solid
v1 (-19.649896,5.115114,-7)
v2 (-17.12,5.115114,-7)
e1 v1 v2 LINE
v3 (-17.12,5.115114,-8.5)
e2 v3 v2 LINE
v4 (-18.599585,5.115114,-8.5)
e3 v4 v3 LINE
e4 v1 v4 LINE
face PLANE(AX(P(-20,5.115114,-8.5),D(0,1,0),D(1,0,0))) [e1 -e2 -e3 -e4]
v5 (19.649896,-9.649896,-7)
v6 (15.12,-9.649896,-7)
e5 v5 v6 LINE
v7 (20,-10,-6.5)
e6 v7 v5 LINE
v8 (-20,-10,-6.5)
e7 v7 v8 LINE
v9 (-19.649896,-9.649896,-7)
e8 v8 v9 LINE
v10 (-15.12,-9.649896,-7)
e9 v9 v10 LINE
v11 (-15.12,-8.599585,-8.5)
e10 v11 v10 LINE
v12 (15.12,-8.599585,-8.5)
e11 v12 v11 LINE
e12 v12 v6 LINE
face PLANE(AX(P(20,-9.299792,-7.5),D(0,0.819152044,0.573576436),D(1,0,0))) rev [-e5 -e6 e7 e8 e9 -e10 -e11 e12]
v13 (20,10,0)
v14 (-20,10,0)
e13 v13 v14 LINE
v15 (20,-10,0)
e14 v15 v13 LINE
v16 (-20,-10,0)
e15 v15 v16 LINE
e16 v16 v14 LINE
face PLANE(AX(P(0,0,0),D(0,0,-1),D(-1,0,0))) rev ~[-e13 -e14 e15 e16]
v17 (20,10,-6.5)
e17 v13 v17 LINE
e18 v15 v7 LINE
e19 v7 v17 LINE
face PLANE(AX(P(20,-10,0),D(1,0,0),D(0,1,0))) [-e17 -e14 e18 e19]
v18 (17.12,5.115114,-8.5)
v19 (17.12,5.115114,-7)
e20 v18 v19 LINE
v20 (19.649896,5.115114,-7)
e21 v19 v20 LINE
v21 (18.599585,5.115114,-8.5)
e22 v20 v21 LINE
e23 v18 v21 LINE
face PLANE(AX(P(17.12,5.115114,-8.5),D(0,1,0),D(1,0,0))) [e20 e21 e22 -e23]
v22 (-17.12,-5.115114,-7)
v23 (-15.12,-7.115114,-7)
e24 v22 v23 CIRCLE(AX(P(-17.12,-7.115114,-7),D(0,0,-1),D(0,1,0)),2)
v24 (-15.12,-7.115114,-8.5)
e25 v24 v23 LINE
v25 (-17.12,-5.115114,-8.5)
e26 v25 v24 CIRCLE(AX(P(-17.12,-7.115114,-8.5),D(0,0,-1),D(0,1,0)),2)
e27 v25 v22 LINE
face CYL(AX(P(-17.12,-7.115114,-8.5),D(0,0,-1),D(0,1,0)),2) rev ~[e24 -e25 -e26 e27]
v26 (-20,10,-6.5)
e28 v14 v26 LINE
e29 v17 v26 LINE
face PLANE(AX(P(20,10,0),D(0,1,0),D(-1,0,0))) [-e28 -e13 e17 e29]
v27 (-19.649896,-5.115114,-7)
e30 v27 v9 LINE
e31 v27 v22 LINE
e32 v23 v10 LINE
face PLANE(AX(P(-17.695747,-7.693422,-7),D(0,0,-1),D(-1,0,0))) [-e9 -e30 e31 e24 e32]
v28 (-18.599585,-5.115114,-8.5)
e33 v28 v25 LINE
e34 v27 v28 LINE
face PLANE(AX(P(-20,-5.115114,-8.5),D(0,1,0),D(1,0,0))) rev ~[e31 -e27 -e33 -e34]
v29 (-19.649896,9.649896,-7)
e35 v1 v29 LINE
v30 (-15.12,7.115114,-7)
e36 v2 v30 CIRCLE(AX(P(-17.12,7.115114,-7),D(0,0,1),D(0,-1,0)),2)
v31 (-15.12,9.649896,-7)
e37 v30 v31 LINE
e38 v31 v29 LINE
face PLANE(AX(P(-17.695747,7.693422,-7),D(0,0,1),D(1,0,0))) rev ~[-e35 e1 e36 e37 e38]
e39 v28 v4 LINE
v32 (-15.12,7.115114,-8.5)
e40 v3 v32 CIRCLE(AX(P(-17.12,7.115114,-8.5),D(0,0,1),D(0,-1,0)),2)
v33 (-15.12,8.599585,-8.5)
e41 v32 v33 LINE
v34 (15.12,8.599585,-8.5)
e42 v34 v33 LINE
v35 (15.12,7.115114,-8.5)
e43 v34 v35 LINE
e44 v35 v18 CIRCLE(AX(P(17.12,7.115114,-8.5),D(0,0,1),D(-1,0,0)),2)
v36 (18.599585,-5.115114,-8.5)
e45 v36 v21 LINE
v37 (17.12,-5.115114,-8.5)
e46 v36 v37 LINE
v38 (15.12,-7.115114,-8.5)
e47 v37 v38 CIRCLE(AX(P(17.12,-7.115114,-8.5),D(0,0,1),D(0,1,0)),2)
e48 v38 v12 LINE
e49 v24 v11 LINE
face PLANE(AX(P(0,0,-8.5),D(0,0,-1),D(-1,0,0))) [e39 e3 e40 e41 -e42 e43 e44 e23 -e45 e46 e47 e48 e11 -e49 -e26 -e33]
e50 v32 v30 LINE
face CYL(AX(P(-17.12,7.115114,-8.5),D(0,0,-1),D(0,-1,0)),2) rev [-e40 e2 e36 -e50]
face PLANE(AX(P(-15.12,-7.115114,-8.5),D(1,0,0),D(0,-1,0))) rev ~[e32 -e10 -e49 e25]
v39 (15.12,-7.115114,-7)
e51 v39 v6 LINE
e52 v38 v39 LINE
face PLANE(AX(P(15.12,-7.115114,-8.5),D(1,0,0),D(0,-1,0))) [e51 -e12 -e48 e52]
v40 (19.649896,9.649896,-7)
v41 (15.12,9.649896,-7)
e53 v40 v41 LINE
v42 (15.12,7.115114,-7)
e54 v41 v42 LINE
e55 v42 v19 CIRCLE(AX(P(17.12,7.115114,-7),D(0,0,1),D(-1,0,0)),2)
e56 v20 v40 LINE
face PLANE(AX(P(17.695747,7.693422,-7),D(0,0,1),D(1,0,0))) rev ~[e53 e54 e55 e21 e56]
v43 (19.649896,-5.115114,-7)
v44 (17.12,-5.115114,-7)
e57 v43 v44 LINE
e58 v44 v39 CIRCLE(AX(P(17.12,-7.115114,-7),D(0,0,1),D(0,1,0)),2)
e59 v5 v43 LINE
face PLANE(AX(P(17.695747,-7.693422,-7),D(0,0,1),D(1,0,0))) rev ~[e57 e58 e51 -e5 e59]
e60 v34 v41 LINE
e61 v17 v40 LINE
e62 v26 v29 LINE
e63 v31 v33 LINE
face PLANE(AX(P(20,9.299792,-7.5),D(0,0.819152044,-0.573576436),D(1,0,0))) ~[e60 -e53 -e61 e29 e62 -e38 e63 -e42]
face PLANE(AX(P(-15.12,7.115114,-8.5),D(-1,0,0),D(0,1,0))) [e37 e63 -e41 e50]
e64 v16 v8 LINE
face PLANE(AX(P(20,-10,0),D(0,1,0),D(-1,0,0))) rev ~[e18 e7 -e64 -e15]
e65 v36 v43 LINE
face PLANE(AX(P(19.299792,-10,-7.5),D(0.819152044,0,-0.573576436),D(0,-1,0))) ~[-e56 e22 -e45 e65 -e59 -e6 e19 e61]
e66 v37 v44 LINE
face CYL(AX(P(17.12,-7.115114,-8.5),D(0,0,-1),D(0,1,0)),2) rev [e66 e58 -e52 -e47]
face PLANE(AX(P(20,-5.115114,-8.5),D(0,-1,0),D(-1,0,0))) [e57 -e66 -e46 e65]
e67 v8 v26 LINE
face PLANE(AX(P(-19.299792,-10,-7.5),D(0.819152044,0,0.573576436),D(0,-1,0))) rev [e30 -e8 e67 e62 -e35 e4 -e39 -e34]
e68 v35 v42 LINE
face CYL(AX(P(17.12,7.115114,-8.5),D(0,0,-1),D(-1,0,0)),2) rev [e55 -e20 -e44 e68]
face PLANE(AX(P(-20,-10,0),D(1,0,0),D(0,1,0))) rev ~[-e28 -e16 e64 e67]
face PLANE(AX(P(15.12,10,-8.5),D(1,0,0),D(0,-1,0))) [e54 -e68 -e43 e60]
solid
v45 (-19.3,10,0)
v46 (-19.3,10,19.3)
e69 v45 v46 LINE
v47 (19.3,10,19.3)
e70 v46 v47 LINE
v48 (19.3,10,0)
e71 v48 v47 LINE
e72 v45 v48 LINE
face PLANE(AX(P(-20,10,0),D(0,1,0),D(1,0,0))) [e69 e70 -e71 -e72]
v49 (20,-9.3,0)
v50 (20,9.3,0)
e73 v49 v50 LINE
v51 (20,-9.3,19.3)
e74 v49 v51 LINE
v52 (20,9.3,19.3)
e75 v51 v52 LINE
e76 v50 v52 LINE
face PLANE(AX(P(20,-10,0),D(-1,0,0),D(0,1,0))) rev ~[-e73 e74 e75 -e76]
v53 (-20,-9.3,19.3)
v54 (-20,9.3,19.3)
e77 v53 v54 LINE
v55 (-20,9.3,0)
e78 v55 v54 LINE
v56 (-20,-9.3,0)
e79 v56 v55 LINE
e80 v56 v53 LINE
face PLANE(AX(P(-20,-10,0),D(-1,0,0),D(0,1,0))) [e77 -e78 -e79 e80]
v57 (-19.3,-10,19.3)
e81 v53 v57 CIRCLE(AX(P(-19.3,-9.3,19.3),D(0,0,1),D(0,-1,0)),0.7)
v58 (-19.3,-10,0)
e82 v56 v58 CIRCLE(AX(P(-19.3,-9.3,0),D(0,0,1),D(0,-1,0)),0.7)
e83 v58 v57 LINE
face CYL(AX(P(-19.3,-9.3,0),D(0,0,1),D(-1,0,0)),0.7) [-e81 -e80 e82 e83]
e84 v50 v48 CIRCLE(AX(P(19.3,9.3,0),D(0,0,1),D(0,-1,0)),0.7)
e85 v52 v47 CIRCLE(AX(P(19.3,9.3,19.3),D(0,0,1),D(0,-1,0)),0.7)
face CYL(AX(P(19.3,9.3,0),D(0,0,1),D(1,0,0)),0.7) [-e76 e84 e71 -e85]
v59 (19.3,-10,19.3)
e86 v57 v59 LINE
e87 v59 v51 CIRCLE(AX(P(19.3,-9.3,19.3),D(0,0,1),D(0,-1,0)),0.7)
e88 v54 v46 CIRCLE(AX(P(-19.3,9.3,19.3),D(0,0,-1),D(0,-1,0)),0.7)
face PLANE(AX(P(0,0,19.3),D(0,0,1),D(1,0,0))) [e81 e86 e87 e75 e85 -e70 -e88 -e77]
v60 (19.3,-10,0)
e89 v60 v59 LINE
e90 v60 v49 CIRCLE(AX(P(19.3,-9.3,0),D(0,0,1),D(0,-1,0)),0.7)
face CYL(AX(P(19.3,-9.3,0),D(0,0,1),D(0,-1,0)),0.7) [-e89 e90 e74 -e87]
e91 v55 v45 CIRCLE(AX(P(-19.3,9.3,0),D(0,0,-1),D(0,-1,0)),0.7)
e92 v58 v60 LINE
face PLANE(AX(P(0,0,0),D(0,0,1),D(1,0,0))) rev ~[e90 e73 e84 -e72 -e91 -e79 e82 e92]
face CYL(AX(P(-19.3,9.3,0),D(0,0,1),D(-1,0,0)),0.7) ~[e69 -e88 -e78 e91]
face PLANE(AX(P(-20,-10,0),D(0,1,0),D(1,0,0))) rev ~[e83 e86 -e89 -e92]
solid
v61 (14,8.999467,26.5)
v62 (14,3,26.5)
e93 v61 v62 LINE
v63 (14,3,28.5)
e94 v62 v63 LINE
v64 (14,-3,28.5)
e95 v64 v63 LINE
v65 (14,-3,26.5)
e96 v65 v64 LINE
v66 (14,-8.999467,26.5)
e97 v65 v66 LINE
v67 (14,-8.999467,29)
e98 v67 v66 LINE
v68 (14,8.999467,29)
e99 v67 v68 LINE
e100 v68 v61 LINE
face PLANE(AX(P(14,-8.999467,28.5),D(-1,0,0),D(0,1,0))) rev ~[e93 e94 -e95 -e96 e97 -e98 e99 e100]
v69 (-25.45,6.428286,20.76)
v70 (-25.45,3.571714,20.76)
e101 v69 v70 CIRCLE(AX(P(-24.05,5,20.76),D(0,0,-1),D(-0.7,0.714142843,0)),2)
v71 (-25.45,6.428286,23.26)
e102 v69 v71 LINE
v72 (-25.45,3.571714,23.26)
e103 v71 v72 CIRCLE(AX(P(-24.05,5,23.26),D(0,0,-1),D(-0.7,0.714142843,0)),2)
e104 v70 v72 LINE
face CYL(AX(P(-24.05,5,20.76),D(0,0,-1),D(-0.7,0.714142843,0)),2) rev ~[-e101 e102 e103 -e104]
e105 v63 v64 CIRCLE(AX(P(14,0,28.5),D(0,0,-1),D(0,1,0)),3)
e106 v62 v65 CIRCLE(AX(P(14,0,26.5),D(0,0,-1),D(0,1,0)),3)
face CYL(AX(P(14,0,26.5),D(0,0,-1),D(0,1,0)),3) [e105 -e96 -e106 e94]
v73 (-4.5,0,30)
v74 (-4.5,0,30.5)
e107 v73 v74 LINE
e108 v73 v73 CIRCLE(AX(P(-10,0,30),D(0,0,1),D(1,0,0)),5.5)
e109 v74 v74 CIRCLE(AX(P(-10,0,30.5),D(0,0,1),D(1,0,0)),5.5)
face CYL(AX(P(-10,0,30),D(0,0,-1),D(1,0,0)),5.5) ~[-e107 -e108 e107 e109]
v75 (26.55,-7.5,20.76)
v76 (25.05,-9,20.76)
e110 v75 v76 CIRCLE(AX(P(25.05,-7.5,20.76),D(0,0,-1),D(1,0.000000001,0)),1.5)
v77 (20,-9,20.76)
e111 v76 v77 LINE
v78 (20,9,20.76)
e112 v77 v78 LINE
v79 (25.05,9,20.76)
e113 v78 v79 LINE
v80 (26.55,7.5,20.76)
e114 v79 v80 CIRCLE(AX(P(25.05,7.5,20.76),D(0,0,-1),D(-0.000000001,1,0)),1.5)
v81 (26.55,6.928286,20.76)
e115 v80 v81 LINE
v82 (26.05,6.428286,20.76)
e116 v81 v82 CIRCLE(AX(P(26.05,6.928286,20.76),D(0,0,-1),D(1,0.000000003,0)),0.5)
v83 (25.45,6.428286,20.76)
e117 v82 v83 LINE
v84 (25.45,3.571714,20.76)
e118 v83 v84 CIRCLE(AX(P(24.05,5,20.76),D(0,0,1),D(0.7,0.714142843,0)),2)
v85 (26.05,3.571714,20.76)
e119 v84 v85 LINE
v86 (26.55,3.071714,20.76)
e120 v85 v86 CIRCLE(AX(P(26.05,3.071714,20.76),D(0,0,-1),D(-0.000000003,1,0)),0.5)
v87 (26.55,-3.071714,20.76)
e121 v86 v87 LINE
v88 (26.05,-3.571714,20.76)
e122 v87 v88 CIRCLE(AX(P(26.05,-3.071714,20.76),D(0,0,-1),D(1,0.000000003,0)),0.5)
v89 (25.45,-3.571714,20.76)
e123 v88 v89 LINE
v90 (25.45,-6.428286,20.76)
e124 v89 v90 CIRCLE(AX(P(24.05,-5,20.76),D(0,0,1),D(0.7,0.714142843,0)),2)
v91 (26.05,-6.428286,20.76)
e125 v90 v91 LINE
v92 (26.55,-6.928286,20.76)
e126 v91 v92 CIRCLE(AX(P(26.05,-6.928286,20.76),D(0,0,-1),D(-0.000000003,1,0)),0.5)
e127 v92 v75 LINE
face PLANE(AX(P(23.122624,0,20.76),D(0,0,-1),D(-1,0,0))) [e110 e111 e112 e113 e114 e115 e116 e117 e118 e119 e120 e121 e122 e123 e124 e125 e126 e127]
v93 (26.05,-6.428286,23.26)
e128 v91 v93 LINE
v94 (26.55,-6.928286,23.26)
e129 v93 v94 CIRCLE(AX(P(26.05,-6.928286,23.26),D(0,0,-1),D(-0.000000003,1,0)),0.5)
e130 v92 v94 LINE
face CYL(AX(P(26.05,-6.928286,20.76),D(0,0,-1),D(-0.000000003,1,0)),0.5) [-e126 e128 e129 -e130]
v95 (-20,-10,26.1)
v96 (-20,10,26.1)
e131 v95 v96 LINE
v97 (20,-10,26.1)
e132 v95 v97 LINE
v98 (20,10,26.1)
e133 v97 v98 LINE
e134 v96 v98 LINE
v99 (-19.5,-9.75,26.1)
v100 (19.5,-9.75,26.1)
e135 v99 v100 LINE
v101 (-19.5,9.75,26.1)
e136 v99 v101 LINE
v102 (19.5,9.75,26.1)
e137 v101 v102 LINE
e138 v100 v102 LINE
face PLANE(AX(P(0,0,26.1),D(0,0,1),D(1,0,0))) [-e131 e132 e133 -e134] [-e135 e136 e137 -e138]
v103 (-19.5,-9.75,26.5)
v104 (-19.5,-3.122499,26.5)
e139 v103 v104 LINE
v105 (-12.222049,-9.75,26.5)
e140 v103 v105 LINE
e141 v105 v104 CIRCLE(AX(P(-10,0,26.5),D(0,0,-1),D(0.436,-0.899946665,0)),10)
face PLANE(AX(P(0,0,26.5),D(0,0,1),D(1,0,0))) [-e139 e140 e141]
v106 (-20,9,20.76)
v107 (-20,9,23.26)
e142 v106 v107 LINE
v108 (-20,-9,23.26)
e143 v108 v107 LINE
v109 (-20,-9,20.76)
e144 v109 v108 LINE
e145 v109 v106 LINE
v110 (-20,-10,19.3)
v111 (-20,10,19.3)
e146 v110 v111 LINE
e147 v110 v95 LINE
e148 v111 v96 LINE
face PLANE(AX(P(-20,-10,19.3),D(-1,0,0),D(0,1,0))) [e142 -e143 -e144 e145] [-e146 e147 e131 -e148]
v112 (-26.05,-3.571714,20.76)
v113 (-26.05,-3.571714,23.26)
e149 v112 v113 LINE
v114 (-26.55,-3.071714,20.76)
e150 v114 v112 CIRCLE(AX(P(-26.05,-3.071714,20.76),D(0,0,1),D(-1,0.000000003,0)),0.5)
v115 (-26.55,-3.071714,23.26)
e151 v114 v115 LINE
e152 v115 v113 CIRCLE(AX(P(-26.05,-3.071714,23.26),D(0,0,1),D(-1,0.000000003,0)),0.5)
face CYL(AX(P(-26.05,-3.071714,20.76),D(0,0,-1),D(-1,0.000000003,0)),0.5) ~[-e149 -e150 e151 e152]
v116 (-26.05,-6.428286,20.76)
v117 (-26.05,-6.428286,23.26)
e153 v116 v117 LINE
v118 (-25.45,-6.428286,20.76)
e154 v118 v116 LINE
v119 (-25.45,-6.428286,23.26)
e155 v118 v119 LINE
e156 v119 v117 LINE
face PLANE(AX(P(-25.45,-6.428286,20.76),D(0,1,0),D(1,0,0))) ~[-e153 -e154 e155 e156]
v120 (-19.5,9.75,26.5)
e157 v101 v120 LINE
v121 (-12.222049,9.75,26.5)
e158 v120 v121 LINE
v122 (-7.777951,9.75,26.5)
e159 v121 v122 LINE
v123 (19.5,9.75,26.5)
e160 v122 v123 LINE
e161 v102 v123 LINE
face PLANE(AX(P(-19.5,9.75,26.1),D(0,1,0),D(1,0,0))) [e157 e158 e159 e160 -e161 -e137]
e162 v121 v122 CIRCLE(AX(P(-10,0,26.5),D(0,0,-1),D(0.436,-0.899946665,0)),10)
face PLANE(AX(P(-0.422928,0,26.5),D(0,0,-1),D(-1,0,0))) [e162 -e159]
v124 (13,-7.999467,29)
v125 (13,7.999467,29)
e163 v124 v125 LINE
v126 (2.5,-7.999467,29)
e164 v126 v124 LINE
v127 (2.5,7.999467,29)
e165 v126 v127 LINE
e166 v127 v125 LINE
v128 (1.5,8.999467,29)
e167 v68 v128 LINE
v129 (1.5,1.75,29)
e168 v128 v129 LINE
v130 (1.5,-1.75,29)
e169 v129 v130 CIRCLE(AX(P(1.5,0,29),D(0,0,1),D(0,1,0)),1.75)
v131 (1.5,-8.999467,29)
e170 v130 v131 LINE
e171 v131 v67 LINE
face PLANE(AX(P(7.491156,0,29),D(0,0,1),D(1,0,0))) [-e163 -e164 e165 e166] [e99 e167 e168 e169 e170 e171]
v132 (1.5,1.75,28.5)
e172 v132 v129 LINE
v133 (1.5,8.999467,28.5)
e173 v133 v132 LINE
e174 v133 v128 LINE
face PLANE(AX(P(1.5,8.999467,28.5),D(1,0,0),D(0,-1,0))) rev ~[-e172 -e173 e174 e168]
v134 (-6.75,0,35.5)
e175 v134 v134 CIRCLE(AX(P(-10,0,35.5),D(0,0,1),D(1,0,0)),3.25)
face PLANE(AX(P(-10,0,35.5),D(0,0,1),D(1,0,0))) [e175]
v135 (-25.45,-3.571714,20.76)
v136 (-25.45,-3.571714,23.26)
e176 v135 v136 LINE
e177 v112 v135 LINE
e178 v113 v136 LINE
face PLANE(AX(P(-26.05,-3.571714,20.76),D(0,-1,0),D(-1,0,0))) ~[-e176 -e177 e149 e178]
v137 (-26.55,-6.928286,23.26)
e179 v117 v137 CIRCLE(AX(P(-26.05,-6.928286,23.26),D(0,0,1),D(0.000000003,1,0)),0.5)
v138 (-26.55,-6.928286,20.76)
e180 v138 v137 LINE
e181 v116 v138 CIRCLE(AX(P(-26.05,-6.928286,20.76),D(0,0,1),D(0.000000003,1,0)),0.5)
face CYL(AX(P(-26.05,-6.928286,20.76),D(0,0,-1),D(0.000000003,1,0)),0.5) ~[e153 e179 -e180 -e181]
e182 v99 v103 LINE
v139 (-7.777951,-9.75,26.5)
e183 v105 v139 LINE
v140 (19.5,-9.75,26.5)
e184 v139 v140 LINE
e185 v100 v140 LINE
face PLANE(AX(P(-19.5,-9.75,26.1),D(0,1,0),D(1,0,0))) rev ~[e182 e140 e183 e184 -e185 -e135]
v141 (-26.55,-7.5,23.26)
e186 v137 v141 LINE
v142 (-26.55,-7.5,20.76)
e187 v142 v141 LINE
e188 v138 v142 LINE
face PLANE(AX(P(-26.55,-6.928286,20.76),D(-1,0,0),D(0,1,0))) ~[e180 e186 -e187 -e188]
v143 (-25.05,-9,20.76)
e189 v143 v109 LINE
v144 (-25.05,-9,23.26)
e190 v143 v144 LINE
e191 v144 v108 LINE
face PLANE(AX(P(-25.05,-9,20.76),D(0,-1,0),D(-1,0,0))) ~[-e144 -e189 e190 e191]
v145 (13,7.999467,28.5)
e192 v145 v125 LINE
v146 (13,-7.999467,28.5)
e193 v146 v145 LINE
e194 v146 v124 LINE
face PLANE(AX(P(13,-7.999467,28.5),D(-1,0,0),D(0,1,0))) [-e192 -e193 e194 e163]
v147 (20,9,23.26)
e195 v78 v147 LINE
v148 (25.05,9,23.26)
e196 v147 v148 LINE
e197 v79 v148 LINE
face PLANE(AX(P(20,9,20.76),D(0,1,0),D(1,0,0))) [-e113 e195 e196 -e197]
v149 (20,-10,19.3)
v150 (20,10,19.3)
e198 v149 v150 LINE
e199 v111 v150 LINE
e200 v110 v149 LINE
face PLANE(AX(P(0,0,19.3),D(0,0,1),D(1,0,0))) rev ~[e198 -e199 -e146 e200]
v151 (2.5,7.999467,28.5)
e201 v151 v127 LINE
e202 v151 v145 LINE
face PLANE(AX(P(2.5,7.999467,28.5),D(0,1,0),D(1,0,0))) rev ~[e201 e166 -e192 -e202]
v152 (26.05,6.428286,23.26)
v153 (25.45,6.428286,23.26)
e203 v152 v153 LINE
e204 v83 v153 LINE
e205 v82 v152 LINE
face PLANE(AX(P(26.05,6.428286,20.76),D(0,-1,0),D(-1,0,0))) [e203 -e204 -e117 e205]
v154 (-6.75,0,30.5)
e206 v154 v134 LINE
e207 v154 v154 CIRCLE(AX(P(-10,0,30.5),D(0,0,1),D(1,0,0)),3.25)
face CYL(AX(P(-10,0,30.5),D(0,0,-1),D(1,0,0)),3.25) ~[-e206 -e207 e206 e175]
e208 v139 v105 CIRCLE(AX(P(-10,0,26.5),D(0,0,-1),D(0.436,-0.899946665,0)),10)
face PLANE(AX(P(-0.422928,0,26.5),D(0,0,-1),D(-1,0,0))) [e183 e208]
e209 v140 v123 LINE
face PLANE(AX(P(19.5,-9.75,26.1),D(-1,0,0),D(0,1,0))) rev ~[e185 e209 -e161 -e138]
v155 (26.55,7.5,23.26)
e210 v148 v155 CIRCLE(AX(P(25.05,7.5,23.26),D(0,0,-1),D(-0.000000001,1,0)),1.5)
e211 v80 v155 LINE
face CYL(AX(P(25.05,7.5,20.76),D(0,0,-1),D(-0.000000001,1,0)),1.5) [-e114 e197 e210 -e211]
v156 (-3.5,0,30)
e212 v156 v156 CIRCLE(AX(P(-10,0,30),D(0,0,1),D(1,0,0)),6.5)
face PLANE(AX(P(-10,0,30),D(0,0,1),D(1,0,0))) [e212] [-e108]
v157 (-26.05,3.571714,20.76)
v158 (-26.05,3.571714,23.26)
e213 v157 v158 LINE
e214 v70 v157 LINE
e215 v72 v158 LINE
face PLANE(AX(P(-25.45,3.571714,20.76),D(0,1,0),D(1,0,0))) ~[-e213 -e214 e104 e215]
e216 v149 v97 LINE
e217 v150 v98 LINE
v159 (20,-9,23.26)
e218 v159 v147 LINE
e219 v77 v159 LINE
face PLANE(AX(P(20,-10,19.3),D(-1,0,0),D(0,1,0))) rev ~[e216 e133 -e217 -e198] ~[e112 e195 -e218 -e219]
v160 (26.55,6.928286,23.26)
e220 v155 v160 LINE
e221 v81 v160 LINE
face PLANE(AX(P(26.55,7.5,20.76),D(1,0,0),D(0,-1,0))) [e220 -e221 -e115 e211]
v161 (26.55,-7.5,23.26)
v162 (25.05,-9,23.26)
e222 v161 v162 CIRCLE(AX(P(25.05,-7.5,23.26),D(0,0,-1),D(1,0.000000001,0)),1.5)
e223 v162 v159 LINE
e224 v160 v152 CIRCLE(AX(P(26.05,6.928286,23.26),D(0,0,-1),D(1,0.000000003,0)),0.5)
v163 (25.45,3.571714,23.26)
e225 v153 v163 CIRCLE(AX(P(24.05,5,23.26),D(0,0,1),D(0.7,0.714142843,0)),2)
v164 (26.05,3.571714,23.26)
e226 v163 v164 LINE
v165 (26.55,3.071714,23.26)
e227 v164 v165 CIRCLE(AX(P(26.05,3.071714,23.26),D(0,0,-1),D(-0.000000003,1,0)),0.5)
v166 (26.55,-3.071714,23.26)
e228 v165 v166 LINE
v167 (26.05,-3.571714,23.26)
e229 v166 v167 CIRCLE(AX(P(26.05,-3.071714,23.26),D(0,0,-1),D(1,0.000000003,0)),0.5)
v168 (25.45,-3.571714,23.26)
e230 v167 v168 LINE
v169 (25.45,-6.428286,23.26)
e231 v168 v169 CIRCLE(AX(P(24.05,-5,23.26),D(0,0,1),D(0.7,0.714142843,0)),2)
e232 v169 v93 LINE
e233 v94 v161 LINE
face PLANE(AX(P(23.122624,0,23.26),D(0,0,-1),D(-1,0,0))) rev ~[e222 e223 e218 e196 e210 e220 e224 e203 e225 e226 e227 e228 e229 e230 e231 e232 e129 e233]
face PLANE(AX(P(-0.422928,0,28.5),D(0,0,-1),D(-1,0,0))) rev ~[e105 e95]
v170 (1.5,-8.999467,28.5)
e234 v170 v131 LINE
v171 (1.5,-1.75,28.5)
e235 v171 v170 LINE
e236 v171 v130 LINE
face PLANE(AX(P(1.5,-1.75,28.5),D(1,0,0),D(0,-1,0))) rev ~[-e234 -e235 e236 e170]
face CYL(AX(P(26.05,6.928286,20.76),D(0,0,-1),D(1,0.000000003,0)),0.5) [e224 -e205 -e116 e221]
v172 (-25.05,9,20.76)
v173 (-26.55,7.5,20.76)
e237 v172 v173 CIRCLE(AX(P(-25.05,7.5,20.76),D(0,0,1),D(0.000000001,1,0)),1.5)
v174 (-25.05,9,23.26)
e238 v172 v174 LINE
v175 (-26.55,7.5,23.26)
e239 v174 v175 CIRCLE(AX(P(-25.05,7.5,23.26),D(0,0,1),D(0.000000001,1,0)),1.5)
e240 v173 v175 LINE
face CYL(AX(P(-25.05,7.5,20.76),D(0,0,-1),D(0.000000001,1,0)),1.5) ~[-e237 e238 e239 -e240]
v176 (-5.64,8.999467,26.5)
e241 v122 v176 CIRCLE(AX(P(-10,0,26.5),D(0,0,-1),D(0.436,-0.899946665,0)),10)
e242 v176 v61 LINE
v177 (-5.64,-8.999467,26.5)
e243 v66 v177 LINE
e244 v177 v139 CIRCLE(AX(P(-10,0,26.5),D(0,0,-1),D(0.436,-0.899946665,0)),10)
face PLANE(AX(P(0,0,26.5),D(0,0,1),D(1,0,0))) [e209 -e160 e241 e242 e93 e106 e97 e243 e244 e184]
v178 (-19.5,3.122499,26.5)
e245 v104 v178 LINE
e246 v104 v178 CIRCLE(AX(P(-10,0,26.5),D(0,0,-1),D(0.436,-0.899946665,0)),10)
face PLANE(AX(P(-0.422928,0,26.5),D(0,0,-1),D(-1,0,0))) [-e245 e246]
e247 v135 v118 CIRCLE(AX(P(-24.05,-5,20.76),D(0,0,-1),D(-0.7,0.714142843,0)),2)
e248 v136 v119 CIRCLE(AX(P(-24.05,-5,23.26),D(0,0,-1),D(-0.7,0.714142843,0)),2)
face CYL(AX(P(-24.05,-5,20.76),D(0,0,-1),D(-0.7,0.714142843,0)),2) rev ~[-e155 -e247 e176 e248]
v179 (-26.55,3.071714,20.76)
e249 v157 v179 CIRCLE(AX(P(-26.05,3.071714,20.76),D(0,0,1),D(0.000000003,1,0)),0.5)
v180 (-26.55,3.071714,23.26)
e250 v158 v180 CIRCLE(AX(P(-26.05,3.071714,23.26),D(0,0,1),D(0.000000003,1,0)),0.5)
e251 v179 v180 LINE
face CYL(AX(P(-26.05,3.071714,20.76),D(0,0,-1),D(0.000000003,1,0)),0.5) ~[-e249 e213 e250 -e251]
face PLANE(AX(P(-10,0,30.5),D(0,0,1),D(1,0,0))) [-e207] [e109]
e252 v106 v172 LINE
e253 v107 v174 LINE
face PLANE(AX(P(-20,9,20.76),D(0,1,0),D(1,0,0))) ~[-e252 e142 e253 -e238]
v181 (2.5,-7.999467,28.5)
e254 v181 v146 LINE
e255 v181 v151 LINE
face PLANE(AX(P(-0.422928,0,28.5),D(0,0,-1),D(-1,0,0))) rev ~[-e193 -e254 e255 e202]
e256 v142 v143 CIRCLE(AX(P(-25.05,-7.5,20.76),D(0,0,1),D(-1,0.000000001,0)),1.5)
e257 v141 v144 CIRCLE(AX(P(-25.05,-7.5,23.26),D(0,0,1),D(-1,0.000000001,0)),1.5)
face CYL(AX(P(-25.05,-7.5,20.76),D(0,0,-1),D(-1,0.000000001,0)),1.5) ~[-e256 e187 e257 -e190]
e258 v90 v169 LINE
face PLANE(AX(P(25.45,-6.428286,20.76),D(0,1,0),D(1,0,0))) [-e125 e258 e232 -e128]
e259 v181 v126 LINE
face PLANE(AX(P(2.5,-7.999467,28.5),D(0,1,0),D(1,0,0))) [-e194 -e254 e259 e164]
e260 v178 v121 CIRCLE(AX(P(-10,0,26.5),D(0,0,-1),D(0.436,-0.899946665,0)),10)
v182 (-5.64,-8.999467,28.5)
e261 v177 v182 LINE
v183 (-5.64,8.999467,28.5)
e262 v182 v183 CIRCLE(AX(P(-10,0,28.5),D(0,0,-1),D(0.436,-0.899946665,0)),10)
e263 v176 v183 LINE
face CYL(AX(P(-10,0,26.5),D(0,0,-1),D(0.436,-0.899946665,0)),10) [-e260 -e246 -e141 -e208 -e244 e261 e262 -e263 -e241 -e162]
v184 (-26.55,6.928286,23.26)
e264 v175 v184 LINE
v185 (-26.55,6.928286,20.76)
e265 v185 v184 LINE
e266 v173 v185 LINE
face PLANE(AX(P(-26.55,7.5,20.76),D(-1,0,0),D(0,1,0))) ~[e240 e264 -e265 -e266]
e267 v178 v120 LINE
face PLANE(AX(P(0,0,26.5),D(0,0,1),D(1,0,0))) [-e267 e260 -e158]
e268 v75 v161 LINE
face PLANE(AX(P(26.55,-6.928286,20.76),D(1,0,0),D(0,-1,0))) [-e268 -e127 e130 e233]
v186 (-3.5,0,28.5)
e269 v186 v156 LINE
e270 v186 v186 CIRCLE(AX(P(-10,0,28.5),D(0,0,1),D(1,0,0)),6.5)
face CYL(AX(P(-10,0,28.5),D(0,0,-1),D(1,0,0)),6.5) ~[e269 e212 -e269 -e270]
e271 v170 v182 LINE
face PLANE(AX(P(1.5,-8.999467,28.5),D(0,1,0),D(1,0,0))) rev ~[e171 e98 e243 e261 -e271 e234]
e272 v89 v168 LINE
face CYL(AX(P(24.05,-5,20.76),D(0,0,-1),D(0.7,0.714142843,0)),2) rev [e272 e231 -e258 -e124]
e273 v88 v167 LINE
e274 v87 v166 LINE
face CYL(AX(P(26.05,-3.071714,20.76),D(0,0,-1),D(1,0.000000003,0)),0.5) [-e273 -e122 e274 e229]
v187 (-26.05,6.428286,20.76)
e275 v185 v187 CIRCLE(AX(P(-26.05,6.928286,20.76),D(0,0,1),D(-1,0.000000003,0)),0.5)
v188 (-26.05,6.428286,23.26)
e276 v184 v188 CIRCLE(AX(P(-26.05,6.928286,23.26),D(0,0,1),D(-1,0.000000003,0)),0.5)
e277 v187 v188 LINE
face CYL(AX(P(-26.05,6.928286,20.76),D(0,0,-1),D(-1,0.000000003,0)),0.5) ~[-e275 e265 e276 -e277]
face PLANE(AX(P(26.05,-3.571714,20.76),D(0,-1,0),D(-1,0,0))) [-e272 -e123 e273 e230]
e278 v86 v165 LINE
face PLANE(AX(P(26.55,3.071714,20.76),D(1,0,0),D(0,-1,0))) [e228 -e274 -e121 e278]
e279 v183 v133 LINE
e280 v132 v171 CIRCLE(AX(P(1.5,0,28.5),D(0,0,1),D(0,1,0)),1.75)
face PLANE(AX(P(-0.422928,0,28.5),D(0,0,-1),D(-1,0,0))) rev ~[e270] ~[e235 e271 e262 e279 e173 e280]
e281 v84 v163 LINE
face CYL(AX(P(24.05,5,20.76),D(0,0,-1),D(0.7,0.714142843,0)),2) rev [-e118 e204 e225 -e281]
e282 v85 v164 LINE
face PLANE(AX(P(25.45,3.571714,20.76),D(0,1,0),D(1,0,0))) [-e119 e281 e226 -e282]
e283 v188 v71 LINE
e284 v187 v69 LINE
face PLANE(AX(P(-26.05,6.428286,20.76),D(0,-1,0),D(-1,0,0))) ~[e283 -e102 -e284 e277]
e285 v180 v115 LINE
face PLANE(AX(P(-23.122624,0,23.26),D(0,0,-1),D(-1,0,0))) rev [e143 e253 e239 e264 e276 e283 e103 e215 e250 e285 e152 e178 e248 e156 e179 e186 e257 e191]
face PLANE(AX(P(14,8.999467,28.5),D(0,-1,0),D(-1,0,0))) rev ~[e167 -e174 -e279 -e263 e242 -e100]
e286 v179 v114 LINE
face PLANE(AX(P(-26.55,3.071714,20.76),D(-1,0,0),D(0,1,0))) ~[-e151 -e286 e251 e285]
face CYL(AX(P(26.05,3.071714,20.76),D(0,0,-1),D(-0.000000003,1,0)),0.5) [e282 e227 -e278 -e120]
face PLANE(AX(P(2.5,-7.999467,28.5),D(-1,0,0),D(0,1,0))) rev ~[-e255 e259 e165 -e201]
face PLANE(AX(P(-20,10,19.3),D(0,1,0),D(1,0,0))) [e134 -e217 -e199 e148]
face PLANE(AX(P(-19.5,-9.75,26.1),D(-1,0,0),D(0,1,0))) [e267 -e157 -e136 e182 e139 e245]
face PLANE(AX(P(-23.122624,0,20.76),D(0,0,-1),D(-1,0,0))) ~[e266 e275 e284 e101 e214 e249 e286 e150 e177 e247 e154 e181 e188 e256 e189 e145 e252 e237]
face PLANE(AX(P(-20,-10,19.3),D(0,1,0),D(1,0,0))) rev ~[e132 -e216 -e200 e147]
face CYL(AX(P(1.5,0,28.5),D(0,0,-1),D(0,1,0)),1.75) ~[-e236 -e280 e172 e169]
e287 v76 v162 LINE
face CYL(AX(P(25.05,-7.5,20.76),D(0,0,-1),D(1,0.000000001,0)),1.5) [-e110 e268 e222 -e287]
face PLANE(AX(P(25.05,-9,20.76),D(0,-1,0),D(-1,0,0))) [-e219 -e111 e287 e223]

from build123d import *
from OCP.BRepFilletAPI import BRepFilletAPI_MakeChamfer

# Parameters (mm, degrees)
SKETCH1_W            = 40
SKETCH1_H            = 20
BOSS_EXTRUDE1_DEPTH  = 19.3
SKETCH2_W            = 40
SKETCH2_H            = 20
BOSS_EXTRUDE2_DEPTH  = 6.8
SKETCH3_W            = 40
SKETCH3_H            = 20
BOSS_EXTRUDE3_DEPTH  = 8.5
CHAMFER1_SIZE        = 2
CHAMFER1_SIZE2       = 1.400415076
CUT_EXTRUDE1_DEPTH   = 1.5
SKETCH5_W            = 39
SKETCH5_H            = 19.5
BOSS_EXTRUDE5_DEPTH  = 0.4
BOSS_EXTRUDE6_DEPTH  = 2
SKETCH7_R            = 6.5
BOSS_EXTRUDE7_DEPTH  = 1.5
SKETCH8_R            = 5.5
BOSS_EXTRUDE8_DEPTH  = 0.5
SKETCH9_R            = 3.25
BOSS_EXTRUDE9_DEPTH  = 5
SKETCH10_W           = 10.5
SKETCH10_H           = 15.998933302
BOSS_EXTRUDE10_DEPTH = 0.5
FILLET1_R            = 0.7
BOSS_EXTRUDE11_START = -5.74
BOSS_EXTRUDE11_DEPTH = 2.5


with BuildPart() as part:
    # Sketch1 → Boss-Extrude1 (new body)
    with BuildSketch(Plane.XY):
        Rectangle(SKETCH1_W, SKETCH1_H)
    extrude(amount=BOSS_EXTRUDE1_DEPTH)

    # Fillet1
    fillet1_edges = [part.edges().sort_by_distance(p)[0] for p in [
        (20, -10, 9.65),
        (-20, -10, 9.65),
        (-20, 10, 9.65),
        (20, 10, 9.65),
    ]]
    fillet(fillet1_edges, radius=FILLET1_R)


with BuildPart() as body_2:
    # Sketch2 → Boss-Extrude2 (new body)
    with BuildSketch(Plane.XY.offset(19.3)):
        Rectangle(SKETCH2_W, SKETCH2_H)
    extrude(amount=BOSS_EXTRUDE2_DEPTH)

    # Sketch5 → Boss-Extrude5 (add)
    with BuildSketch(Plane.XY.offset(26.1)):
        Rectangle(SKETCH5_W, SKETCH5_H)
    extrude(amount=BOSS_EXTRUDE5_DEPTH)

    # Sketch6 → Boss-Extrude6 (add)
    with BuildSketch(Plane.XY.offset(26.5)):
        with BuildLine():
            Line((-5.64, 8.999466651), (14, 8.999466651))
            Line((14, 8.999466651), (14, 3))
            ThreePointArc((14, 3), (17, 0), (14, -3))
            Line((14, -3), (14, -8.999466651))
            Line((14, -8.999466651), (-5.64, -8.999466651))
            ThreePointArc((-5.64, -8.999466651), (-20, 0), (-5.64, 8.999466651))
        make_face()
    extrude(amount=BOSS_EXTRUDE6_DEPTH)

    # Sketch7 → Boss-Extrude7 (add)
    with BuildSketch(Plane.XY.offset(28.5)):
        with Locations((-10, 0)):
            Circle(SKETCH7_R)
    extrude(amount=BOSS_EXTRUDE7_DEPTH)

    # Sketch8 → Boss-Extrude8 (add)
    with BuildSketch(Plane.XY.offset(30)):
        with Locations((-10, 0)):
            Circle(SKETCH8_R)
    extrude(amount=BOSS_EXTRUDE8_DEPTH)

    # Sketch9 → Boss-Extrude9 (add)
    with BuildSketch(Plane.XY.offset(30.5)):
        with Locations((-10, 0)):
            Circle(SKETCH9_R)
    extrude(amount=BOSS_EXTRUDE9_DEPTH)

    # Sketch10 → Boss-Extrude10 (add)
    with BuildSketch(Plane.XY.offset(28.5)):
        with BuildLine():
            Line((14, 8.999466651), (1.5, 8.999466651))
            Line((1.5, 8.999466651), (1.5, 1.75))
            ThreePointArc((1.5, 1.75), (-0.25, 0), (1.5, -1.75))
            Line((1.5, -1.75), (1.5, -8.999466651))
            Line((1.5, -8.999466651), (14, -8.999466651))
            Line((14, -8.999466651), (14, 8.999466651))
        make_face()
        with Locations((7.75, 0)):
            Rectangle(SKETCH10_W, SKETCH10_H, mode=Mode.SUBTRACT)
    extrude(amount=BOSS_EXTRUDE10_DEPTH)

    # Sketch11 → Boss-Extrude11 (add)
    with BuildSketch(Plane.XY.offset(26.5).offset(BOSS_EXTRUDE11_START)):
        with BuildLine():
            Line((20, 9), (25.05, 9))
            ThreePointArc((25.05, 9), (26.110660172, 8.560660172), (26.55, 7.5))
            Line((26.55, 7.5), (26.55, 6.928285686))
            ThreePointArc((26.55, 6.928285686), (26.403553391, 6.574732295), (26.05, 6.428285686))
            Line((26.05, 6.428285686), (25.45, 6.428285686))
            ThreePointArc((25.45, 6.428285686), (22.05, 5), (25.45, 3.571714314))
            Line((25.45, 3.571714314), (26.05, 3.571714314))
            ThreePointArc((26.05, 3.571714314), (26.403553391, 3.425267705), (26.55, 3.071714314))
            Line((26.55, 3.071714314), (26.55, -3.071714314))
            ThreePointArc((26.55, -3.071714314), (26.403553391, -3.425267705), (26.05, -3.571714314))
            Line((26.05, -3.571714314), (25.45, -3.571714314))
            ThreePointArc((25.45, -3.571714314), (22.05, -5), (25.45, -6.428285686))
            Line((25.45, -6.428285686), (26.05, -6.428285686))
            ThreePointArc((26.05, -6.428285686), (26.403553391, -6.574732295), (26.55, -6.928285686))
            Line((26.55, -6.928285686), (26.55, -7.5))
            ThreePointArc((26.55, -7.5), (26.110660172, -8.560660172), (25.05, -9))
            Line((25.05, -9), (20, -9))
            Line((20, -9), (20, 9))
        make_face()
    boss_extrude11 = extrude(amount=BOSS_EXTRUDE11_DEPTH)

    # Mirror1: Boss-Extrude11 across plane
    add(boss_extrude11.mirror(Plane(origin=(0, 0, 0), x_dir=(0, 0, 1), z_dir=(1, 0, 0))))


with BuildPart() as body_3:
    # Sketch3 → Boss-Extrude3 (new body)
    with BuildSketch(Plane(origin=(0, 0, 0), x_dir=(-1, 0, 0), z_dir=(0, 0, -1))):
        Rectangle(SKETCH3_W, SKETCH3_H)
    extrude(amount=BOSS_EXTRUDE3_DEPTH)

    # Chamfer1: one chamfer whose edges measure the first distance from different faces: ONE call of the kernel's chamfer builder (chamfer() names one face for all edges)
    chamfer1_edges_1 = [body_3.edges().sort_by_distance(p)[0] for p in [
        (0, -10, -8.5),
    ]]
    chamfer1_side_1 = [body_3.faces().sort_by_distance(p)[0] for p in [
        (0, -10, -4.25),
    ]]
    chamfer1_edges_2 = [body_3.edges().sort_by_distance(p)[0] for p in [
        (-20, 0, -8.5),
    ]]
    chamfer1_side_2 = [body_3.faces().sort_by_distance(p)[0] for p in [
        (-20, 0, -4.25),
    ]]
    chamfer1_edges_3 = [body_3.edges().sort_by_distance(p)[0] for p in [
        (0, 10, -8.5),
    ]]
    chamfer1_side_3 = [body_3.faces().sort_by_distance(p)[0] for p in [
        (0, 10, -4.25),
    ]]
    chamfer1_edges_4 = [body_3.edges().sort_by_distance(p)[0] for p in [
        (20, 0, -8.5),
    ]]
    chamfer1_side_4 = [body_3.faces().sort_by_distance(p)[0] for p in [
        (20, 0, -4.25),
    ]]
    chamfer1 = BRepFilletAPI_MakeChamfer(body_3.part.solid().wrapped)
    for e in chamfer1_edges_1:
        chamfer1.Add(CHAMFER1_SIZE, CHAMFER1_SIZE2, e.wrapped, chamfer1_side_1[0].wrapped)  # the first distance lies on this face
    for e in chamfer1_edges_2:
        chamfer1.Add(CHAMFER1_SIZE, CHAMFER1_SIZE2, e.wrapped, chamfer1_side_2[0].wrapped)  # the first distance lies on this face
    for e in chamfer1_edges_3:
        chamfer1.Add(CHAMFER1_SIZE, CHAMFER1_SIZE2, e.wrapped, chamfer1_side_3[0].wrapped)  # the first distance lies on this face
    for e in chamfer1_edges_4:
        chamfer1.Add(CHAMFER1_SIZE, CHAMFER1_SIZE2, e.wrapped, chamfer1_side_4[0].wrapped)  # the first distance lies on this face
    add(Compound.cast(chamfer1.Shape()), mode=Mode.REPLACE)

    # Sketch4 → Cut-Extrude1 (cut)
    with BuildSketch(Plane(origin=(0, 0, -8.5), x_dir=(-1, 0, 0), z_dir=(0, 0, -1))):
        with BuildLine():
            Line((-20, 10), (-15.12, 10))
            Line((-15.12, 10), (-15.12, 7.115114037))
            ThreePointArc((-15.12, 7.115114037), (-15.705786438, 5.700900474), (-17.12, 5.115114037))
            Line((-17.12, 5.115114037), (-20, 5.115114037))
            Line((-20, 5.115114037), (-20, 10))
        make_face()
        with BuildLine():
            Line((20, 5.115114037), (17.12, 5.115114037))
            ThreePointArc((17.12, 5.115114037), (15.705786438, 5.700900474), (15.12, 7.115114037))
            Line((15.12, 7.115114037), (15.12, 10))
            Line((15.12, 10), (20, 10))
            Line((20, 10), (20, 5.115114037))
        make_face()
        with BuildLine():
            Line((20, -10), (20, -5.115114037))
            Line((20, -5.115114037), (17.12, -5.115114037))
            ThreePointArc((17.12, -5.115114037), (15.705786438, -5.700900474), (15.12, -7.115114037))
            Line((15.12, -7.115114037), (15.12, -10))
            Line((15.12, -10), (20, -10))
        make_face()
        with BuildLine():
            Line((-20, -5.115114037), (-17.12, -5.115114037))
            ThreePointArc((-17.12, -5.115114037), (-15.705786438, -5.700900474), (-15.12, -7.115114037))
            Line((-15.12, -7.115114037), (-15.12, -10))
            Line((-15.12, -10), (-20, -10))
            Line((-20, -10), (-20, -5.115114037))
        make_face()
    extrude(amount=-CUT_EXTRUDE1_DEPTH, mode=Mode.SUBTRACT)


solid = Compound([part.part, body_2.part, body_3.part])
